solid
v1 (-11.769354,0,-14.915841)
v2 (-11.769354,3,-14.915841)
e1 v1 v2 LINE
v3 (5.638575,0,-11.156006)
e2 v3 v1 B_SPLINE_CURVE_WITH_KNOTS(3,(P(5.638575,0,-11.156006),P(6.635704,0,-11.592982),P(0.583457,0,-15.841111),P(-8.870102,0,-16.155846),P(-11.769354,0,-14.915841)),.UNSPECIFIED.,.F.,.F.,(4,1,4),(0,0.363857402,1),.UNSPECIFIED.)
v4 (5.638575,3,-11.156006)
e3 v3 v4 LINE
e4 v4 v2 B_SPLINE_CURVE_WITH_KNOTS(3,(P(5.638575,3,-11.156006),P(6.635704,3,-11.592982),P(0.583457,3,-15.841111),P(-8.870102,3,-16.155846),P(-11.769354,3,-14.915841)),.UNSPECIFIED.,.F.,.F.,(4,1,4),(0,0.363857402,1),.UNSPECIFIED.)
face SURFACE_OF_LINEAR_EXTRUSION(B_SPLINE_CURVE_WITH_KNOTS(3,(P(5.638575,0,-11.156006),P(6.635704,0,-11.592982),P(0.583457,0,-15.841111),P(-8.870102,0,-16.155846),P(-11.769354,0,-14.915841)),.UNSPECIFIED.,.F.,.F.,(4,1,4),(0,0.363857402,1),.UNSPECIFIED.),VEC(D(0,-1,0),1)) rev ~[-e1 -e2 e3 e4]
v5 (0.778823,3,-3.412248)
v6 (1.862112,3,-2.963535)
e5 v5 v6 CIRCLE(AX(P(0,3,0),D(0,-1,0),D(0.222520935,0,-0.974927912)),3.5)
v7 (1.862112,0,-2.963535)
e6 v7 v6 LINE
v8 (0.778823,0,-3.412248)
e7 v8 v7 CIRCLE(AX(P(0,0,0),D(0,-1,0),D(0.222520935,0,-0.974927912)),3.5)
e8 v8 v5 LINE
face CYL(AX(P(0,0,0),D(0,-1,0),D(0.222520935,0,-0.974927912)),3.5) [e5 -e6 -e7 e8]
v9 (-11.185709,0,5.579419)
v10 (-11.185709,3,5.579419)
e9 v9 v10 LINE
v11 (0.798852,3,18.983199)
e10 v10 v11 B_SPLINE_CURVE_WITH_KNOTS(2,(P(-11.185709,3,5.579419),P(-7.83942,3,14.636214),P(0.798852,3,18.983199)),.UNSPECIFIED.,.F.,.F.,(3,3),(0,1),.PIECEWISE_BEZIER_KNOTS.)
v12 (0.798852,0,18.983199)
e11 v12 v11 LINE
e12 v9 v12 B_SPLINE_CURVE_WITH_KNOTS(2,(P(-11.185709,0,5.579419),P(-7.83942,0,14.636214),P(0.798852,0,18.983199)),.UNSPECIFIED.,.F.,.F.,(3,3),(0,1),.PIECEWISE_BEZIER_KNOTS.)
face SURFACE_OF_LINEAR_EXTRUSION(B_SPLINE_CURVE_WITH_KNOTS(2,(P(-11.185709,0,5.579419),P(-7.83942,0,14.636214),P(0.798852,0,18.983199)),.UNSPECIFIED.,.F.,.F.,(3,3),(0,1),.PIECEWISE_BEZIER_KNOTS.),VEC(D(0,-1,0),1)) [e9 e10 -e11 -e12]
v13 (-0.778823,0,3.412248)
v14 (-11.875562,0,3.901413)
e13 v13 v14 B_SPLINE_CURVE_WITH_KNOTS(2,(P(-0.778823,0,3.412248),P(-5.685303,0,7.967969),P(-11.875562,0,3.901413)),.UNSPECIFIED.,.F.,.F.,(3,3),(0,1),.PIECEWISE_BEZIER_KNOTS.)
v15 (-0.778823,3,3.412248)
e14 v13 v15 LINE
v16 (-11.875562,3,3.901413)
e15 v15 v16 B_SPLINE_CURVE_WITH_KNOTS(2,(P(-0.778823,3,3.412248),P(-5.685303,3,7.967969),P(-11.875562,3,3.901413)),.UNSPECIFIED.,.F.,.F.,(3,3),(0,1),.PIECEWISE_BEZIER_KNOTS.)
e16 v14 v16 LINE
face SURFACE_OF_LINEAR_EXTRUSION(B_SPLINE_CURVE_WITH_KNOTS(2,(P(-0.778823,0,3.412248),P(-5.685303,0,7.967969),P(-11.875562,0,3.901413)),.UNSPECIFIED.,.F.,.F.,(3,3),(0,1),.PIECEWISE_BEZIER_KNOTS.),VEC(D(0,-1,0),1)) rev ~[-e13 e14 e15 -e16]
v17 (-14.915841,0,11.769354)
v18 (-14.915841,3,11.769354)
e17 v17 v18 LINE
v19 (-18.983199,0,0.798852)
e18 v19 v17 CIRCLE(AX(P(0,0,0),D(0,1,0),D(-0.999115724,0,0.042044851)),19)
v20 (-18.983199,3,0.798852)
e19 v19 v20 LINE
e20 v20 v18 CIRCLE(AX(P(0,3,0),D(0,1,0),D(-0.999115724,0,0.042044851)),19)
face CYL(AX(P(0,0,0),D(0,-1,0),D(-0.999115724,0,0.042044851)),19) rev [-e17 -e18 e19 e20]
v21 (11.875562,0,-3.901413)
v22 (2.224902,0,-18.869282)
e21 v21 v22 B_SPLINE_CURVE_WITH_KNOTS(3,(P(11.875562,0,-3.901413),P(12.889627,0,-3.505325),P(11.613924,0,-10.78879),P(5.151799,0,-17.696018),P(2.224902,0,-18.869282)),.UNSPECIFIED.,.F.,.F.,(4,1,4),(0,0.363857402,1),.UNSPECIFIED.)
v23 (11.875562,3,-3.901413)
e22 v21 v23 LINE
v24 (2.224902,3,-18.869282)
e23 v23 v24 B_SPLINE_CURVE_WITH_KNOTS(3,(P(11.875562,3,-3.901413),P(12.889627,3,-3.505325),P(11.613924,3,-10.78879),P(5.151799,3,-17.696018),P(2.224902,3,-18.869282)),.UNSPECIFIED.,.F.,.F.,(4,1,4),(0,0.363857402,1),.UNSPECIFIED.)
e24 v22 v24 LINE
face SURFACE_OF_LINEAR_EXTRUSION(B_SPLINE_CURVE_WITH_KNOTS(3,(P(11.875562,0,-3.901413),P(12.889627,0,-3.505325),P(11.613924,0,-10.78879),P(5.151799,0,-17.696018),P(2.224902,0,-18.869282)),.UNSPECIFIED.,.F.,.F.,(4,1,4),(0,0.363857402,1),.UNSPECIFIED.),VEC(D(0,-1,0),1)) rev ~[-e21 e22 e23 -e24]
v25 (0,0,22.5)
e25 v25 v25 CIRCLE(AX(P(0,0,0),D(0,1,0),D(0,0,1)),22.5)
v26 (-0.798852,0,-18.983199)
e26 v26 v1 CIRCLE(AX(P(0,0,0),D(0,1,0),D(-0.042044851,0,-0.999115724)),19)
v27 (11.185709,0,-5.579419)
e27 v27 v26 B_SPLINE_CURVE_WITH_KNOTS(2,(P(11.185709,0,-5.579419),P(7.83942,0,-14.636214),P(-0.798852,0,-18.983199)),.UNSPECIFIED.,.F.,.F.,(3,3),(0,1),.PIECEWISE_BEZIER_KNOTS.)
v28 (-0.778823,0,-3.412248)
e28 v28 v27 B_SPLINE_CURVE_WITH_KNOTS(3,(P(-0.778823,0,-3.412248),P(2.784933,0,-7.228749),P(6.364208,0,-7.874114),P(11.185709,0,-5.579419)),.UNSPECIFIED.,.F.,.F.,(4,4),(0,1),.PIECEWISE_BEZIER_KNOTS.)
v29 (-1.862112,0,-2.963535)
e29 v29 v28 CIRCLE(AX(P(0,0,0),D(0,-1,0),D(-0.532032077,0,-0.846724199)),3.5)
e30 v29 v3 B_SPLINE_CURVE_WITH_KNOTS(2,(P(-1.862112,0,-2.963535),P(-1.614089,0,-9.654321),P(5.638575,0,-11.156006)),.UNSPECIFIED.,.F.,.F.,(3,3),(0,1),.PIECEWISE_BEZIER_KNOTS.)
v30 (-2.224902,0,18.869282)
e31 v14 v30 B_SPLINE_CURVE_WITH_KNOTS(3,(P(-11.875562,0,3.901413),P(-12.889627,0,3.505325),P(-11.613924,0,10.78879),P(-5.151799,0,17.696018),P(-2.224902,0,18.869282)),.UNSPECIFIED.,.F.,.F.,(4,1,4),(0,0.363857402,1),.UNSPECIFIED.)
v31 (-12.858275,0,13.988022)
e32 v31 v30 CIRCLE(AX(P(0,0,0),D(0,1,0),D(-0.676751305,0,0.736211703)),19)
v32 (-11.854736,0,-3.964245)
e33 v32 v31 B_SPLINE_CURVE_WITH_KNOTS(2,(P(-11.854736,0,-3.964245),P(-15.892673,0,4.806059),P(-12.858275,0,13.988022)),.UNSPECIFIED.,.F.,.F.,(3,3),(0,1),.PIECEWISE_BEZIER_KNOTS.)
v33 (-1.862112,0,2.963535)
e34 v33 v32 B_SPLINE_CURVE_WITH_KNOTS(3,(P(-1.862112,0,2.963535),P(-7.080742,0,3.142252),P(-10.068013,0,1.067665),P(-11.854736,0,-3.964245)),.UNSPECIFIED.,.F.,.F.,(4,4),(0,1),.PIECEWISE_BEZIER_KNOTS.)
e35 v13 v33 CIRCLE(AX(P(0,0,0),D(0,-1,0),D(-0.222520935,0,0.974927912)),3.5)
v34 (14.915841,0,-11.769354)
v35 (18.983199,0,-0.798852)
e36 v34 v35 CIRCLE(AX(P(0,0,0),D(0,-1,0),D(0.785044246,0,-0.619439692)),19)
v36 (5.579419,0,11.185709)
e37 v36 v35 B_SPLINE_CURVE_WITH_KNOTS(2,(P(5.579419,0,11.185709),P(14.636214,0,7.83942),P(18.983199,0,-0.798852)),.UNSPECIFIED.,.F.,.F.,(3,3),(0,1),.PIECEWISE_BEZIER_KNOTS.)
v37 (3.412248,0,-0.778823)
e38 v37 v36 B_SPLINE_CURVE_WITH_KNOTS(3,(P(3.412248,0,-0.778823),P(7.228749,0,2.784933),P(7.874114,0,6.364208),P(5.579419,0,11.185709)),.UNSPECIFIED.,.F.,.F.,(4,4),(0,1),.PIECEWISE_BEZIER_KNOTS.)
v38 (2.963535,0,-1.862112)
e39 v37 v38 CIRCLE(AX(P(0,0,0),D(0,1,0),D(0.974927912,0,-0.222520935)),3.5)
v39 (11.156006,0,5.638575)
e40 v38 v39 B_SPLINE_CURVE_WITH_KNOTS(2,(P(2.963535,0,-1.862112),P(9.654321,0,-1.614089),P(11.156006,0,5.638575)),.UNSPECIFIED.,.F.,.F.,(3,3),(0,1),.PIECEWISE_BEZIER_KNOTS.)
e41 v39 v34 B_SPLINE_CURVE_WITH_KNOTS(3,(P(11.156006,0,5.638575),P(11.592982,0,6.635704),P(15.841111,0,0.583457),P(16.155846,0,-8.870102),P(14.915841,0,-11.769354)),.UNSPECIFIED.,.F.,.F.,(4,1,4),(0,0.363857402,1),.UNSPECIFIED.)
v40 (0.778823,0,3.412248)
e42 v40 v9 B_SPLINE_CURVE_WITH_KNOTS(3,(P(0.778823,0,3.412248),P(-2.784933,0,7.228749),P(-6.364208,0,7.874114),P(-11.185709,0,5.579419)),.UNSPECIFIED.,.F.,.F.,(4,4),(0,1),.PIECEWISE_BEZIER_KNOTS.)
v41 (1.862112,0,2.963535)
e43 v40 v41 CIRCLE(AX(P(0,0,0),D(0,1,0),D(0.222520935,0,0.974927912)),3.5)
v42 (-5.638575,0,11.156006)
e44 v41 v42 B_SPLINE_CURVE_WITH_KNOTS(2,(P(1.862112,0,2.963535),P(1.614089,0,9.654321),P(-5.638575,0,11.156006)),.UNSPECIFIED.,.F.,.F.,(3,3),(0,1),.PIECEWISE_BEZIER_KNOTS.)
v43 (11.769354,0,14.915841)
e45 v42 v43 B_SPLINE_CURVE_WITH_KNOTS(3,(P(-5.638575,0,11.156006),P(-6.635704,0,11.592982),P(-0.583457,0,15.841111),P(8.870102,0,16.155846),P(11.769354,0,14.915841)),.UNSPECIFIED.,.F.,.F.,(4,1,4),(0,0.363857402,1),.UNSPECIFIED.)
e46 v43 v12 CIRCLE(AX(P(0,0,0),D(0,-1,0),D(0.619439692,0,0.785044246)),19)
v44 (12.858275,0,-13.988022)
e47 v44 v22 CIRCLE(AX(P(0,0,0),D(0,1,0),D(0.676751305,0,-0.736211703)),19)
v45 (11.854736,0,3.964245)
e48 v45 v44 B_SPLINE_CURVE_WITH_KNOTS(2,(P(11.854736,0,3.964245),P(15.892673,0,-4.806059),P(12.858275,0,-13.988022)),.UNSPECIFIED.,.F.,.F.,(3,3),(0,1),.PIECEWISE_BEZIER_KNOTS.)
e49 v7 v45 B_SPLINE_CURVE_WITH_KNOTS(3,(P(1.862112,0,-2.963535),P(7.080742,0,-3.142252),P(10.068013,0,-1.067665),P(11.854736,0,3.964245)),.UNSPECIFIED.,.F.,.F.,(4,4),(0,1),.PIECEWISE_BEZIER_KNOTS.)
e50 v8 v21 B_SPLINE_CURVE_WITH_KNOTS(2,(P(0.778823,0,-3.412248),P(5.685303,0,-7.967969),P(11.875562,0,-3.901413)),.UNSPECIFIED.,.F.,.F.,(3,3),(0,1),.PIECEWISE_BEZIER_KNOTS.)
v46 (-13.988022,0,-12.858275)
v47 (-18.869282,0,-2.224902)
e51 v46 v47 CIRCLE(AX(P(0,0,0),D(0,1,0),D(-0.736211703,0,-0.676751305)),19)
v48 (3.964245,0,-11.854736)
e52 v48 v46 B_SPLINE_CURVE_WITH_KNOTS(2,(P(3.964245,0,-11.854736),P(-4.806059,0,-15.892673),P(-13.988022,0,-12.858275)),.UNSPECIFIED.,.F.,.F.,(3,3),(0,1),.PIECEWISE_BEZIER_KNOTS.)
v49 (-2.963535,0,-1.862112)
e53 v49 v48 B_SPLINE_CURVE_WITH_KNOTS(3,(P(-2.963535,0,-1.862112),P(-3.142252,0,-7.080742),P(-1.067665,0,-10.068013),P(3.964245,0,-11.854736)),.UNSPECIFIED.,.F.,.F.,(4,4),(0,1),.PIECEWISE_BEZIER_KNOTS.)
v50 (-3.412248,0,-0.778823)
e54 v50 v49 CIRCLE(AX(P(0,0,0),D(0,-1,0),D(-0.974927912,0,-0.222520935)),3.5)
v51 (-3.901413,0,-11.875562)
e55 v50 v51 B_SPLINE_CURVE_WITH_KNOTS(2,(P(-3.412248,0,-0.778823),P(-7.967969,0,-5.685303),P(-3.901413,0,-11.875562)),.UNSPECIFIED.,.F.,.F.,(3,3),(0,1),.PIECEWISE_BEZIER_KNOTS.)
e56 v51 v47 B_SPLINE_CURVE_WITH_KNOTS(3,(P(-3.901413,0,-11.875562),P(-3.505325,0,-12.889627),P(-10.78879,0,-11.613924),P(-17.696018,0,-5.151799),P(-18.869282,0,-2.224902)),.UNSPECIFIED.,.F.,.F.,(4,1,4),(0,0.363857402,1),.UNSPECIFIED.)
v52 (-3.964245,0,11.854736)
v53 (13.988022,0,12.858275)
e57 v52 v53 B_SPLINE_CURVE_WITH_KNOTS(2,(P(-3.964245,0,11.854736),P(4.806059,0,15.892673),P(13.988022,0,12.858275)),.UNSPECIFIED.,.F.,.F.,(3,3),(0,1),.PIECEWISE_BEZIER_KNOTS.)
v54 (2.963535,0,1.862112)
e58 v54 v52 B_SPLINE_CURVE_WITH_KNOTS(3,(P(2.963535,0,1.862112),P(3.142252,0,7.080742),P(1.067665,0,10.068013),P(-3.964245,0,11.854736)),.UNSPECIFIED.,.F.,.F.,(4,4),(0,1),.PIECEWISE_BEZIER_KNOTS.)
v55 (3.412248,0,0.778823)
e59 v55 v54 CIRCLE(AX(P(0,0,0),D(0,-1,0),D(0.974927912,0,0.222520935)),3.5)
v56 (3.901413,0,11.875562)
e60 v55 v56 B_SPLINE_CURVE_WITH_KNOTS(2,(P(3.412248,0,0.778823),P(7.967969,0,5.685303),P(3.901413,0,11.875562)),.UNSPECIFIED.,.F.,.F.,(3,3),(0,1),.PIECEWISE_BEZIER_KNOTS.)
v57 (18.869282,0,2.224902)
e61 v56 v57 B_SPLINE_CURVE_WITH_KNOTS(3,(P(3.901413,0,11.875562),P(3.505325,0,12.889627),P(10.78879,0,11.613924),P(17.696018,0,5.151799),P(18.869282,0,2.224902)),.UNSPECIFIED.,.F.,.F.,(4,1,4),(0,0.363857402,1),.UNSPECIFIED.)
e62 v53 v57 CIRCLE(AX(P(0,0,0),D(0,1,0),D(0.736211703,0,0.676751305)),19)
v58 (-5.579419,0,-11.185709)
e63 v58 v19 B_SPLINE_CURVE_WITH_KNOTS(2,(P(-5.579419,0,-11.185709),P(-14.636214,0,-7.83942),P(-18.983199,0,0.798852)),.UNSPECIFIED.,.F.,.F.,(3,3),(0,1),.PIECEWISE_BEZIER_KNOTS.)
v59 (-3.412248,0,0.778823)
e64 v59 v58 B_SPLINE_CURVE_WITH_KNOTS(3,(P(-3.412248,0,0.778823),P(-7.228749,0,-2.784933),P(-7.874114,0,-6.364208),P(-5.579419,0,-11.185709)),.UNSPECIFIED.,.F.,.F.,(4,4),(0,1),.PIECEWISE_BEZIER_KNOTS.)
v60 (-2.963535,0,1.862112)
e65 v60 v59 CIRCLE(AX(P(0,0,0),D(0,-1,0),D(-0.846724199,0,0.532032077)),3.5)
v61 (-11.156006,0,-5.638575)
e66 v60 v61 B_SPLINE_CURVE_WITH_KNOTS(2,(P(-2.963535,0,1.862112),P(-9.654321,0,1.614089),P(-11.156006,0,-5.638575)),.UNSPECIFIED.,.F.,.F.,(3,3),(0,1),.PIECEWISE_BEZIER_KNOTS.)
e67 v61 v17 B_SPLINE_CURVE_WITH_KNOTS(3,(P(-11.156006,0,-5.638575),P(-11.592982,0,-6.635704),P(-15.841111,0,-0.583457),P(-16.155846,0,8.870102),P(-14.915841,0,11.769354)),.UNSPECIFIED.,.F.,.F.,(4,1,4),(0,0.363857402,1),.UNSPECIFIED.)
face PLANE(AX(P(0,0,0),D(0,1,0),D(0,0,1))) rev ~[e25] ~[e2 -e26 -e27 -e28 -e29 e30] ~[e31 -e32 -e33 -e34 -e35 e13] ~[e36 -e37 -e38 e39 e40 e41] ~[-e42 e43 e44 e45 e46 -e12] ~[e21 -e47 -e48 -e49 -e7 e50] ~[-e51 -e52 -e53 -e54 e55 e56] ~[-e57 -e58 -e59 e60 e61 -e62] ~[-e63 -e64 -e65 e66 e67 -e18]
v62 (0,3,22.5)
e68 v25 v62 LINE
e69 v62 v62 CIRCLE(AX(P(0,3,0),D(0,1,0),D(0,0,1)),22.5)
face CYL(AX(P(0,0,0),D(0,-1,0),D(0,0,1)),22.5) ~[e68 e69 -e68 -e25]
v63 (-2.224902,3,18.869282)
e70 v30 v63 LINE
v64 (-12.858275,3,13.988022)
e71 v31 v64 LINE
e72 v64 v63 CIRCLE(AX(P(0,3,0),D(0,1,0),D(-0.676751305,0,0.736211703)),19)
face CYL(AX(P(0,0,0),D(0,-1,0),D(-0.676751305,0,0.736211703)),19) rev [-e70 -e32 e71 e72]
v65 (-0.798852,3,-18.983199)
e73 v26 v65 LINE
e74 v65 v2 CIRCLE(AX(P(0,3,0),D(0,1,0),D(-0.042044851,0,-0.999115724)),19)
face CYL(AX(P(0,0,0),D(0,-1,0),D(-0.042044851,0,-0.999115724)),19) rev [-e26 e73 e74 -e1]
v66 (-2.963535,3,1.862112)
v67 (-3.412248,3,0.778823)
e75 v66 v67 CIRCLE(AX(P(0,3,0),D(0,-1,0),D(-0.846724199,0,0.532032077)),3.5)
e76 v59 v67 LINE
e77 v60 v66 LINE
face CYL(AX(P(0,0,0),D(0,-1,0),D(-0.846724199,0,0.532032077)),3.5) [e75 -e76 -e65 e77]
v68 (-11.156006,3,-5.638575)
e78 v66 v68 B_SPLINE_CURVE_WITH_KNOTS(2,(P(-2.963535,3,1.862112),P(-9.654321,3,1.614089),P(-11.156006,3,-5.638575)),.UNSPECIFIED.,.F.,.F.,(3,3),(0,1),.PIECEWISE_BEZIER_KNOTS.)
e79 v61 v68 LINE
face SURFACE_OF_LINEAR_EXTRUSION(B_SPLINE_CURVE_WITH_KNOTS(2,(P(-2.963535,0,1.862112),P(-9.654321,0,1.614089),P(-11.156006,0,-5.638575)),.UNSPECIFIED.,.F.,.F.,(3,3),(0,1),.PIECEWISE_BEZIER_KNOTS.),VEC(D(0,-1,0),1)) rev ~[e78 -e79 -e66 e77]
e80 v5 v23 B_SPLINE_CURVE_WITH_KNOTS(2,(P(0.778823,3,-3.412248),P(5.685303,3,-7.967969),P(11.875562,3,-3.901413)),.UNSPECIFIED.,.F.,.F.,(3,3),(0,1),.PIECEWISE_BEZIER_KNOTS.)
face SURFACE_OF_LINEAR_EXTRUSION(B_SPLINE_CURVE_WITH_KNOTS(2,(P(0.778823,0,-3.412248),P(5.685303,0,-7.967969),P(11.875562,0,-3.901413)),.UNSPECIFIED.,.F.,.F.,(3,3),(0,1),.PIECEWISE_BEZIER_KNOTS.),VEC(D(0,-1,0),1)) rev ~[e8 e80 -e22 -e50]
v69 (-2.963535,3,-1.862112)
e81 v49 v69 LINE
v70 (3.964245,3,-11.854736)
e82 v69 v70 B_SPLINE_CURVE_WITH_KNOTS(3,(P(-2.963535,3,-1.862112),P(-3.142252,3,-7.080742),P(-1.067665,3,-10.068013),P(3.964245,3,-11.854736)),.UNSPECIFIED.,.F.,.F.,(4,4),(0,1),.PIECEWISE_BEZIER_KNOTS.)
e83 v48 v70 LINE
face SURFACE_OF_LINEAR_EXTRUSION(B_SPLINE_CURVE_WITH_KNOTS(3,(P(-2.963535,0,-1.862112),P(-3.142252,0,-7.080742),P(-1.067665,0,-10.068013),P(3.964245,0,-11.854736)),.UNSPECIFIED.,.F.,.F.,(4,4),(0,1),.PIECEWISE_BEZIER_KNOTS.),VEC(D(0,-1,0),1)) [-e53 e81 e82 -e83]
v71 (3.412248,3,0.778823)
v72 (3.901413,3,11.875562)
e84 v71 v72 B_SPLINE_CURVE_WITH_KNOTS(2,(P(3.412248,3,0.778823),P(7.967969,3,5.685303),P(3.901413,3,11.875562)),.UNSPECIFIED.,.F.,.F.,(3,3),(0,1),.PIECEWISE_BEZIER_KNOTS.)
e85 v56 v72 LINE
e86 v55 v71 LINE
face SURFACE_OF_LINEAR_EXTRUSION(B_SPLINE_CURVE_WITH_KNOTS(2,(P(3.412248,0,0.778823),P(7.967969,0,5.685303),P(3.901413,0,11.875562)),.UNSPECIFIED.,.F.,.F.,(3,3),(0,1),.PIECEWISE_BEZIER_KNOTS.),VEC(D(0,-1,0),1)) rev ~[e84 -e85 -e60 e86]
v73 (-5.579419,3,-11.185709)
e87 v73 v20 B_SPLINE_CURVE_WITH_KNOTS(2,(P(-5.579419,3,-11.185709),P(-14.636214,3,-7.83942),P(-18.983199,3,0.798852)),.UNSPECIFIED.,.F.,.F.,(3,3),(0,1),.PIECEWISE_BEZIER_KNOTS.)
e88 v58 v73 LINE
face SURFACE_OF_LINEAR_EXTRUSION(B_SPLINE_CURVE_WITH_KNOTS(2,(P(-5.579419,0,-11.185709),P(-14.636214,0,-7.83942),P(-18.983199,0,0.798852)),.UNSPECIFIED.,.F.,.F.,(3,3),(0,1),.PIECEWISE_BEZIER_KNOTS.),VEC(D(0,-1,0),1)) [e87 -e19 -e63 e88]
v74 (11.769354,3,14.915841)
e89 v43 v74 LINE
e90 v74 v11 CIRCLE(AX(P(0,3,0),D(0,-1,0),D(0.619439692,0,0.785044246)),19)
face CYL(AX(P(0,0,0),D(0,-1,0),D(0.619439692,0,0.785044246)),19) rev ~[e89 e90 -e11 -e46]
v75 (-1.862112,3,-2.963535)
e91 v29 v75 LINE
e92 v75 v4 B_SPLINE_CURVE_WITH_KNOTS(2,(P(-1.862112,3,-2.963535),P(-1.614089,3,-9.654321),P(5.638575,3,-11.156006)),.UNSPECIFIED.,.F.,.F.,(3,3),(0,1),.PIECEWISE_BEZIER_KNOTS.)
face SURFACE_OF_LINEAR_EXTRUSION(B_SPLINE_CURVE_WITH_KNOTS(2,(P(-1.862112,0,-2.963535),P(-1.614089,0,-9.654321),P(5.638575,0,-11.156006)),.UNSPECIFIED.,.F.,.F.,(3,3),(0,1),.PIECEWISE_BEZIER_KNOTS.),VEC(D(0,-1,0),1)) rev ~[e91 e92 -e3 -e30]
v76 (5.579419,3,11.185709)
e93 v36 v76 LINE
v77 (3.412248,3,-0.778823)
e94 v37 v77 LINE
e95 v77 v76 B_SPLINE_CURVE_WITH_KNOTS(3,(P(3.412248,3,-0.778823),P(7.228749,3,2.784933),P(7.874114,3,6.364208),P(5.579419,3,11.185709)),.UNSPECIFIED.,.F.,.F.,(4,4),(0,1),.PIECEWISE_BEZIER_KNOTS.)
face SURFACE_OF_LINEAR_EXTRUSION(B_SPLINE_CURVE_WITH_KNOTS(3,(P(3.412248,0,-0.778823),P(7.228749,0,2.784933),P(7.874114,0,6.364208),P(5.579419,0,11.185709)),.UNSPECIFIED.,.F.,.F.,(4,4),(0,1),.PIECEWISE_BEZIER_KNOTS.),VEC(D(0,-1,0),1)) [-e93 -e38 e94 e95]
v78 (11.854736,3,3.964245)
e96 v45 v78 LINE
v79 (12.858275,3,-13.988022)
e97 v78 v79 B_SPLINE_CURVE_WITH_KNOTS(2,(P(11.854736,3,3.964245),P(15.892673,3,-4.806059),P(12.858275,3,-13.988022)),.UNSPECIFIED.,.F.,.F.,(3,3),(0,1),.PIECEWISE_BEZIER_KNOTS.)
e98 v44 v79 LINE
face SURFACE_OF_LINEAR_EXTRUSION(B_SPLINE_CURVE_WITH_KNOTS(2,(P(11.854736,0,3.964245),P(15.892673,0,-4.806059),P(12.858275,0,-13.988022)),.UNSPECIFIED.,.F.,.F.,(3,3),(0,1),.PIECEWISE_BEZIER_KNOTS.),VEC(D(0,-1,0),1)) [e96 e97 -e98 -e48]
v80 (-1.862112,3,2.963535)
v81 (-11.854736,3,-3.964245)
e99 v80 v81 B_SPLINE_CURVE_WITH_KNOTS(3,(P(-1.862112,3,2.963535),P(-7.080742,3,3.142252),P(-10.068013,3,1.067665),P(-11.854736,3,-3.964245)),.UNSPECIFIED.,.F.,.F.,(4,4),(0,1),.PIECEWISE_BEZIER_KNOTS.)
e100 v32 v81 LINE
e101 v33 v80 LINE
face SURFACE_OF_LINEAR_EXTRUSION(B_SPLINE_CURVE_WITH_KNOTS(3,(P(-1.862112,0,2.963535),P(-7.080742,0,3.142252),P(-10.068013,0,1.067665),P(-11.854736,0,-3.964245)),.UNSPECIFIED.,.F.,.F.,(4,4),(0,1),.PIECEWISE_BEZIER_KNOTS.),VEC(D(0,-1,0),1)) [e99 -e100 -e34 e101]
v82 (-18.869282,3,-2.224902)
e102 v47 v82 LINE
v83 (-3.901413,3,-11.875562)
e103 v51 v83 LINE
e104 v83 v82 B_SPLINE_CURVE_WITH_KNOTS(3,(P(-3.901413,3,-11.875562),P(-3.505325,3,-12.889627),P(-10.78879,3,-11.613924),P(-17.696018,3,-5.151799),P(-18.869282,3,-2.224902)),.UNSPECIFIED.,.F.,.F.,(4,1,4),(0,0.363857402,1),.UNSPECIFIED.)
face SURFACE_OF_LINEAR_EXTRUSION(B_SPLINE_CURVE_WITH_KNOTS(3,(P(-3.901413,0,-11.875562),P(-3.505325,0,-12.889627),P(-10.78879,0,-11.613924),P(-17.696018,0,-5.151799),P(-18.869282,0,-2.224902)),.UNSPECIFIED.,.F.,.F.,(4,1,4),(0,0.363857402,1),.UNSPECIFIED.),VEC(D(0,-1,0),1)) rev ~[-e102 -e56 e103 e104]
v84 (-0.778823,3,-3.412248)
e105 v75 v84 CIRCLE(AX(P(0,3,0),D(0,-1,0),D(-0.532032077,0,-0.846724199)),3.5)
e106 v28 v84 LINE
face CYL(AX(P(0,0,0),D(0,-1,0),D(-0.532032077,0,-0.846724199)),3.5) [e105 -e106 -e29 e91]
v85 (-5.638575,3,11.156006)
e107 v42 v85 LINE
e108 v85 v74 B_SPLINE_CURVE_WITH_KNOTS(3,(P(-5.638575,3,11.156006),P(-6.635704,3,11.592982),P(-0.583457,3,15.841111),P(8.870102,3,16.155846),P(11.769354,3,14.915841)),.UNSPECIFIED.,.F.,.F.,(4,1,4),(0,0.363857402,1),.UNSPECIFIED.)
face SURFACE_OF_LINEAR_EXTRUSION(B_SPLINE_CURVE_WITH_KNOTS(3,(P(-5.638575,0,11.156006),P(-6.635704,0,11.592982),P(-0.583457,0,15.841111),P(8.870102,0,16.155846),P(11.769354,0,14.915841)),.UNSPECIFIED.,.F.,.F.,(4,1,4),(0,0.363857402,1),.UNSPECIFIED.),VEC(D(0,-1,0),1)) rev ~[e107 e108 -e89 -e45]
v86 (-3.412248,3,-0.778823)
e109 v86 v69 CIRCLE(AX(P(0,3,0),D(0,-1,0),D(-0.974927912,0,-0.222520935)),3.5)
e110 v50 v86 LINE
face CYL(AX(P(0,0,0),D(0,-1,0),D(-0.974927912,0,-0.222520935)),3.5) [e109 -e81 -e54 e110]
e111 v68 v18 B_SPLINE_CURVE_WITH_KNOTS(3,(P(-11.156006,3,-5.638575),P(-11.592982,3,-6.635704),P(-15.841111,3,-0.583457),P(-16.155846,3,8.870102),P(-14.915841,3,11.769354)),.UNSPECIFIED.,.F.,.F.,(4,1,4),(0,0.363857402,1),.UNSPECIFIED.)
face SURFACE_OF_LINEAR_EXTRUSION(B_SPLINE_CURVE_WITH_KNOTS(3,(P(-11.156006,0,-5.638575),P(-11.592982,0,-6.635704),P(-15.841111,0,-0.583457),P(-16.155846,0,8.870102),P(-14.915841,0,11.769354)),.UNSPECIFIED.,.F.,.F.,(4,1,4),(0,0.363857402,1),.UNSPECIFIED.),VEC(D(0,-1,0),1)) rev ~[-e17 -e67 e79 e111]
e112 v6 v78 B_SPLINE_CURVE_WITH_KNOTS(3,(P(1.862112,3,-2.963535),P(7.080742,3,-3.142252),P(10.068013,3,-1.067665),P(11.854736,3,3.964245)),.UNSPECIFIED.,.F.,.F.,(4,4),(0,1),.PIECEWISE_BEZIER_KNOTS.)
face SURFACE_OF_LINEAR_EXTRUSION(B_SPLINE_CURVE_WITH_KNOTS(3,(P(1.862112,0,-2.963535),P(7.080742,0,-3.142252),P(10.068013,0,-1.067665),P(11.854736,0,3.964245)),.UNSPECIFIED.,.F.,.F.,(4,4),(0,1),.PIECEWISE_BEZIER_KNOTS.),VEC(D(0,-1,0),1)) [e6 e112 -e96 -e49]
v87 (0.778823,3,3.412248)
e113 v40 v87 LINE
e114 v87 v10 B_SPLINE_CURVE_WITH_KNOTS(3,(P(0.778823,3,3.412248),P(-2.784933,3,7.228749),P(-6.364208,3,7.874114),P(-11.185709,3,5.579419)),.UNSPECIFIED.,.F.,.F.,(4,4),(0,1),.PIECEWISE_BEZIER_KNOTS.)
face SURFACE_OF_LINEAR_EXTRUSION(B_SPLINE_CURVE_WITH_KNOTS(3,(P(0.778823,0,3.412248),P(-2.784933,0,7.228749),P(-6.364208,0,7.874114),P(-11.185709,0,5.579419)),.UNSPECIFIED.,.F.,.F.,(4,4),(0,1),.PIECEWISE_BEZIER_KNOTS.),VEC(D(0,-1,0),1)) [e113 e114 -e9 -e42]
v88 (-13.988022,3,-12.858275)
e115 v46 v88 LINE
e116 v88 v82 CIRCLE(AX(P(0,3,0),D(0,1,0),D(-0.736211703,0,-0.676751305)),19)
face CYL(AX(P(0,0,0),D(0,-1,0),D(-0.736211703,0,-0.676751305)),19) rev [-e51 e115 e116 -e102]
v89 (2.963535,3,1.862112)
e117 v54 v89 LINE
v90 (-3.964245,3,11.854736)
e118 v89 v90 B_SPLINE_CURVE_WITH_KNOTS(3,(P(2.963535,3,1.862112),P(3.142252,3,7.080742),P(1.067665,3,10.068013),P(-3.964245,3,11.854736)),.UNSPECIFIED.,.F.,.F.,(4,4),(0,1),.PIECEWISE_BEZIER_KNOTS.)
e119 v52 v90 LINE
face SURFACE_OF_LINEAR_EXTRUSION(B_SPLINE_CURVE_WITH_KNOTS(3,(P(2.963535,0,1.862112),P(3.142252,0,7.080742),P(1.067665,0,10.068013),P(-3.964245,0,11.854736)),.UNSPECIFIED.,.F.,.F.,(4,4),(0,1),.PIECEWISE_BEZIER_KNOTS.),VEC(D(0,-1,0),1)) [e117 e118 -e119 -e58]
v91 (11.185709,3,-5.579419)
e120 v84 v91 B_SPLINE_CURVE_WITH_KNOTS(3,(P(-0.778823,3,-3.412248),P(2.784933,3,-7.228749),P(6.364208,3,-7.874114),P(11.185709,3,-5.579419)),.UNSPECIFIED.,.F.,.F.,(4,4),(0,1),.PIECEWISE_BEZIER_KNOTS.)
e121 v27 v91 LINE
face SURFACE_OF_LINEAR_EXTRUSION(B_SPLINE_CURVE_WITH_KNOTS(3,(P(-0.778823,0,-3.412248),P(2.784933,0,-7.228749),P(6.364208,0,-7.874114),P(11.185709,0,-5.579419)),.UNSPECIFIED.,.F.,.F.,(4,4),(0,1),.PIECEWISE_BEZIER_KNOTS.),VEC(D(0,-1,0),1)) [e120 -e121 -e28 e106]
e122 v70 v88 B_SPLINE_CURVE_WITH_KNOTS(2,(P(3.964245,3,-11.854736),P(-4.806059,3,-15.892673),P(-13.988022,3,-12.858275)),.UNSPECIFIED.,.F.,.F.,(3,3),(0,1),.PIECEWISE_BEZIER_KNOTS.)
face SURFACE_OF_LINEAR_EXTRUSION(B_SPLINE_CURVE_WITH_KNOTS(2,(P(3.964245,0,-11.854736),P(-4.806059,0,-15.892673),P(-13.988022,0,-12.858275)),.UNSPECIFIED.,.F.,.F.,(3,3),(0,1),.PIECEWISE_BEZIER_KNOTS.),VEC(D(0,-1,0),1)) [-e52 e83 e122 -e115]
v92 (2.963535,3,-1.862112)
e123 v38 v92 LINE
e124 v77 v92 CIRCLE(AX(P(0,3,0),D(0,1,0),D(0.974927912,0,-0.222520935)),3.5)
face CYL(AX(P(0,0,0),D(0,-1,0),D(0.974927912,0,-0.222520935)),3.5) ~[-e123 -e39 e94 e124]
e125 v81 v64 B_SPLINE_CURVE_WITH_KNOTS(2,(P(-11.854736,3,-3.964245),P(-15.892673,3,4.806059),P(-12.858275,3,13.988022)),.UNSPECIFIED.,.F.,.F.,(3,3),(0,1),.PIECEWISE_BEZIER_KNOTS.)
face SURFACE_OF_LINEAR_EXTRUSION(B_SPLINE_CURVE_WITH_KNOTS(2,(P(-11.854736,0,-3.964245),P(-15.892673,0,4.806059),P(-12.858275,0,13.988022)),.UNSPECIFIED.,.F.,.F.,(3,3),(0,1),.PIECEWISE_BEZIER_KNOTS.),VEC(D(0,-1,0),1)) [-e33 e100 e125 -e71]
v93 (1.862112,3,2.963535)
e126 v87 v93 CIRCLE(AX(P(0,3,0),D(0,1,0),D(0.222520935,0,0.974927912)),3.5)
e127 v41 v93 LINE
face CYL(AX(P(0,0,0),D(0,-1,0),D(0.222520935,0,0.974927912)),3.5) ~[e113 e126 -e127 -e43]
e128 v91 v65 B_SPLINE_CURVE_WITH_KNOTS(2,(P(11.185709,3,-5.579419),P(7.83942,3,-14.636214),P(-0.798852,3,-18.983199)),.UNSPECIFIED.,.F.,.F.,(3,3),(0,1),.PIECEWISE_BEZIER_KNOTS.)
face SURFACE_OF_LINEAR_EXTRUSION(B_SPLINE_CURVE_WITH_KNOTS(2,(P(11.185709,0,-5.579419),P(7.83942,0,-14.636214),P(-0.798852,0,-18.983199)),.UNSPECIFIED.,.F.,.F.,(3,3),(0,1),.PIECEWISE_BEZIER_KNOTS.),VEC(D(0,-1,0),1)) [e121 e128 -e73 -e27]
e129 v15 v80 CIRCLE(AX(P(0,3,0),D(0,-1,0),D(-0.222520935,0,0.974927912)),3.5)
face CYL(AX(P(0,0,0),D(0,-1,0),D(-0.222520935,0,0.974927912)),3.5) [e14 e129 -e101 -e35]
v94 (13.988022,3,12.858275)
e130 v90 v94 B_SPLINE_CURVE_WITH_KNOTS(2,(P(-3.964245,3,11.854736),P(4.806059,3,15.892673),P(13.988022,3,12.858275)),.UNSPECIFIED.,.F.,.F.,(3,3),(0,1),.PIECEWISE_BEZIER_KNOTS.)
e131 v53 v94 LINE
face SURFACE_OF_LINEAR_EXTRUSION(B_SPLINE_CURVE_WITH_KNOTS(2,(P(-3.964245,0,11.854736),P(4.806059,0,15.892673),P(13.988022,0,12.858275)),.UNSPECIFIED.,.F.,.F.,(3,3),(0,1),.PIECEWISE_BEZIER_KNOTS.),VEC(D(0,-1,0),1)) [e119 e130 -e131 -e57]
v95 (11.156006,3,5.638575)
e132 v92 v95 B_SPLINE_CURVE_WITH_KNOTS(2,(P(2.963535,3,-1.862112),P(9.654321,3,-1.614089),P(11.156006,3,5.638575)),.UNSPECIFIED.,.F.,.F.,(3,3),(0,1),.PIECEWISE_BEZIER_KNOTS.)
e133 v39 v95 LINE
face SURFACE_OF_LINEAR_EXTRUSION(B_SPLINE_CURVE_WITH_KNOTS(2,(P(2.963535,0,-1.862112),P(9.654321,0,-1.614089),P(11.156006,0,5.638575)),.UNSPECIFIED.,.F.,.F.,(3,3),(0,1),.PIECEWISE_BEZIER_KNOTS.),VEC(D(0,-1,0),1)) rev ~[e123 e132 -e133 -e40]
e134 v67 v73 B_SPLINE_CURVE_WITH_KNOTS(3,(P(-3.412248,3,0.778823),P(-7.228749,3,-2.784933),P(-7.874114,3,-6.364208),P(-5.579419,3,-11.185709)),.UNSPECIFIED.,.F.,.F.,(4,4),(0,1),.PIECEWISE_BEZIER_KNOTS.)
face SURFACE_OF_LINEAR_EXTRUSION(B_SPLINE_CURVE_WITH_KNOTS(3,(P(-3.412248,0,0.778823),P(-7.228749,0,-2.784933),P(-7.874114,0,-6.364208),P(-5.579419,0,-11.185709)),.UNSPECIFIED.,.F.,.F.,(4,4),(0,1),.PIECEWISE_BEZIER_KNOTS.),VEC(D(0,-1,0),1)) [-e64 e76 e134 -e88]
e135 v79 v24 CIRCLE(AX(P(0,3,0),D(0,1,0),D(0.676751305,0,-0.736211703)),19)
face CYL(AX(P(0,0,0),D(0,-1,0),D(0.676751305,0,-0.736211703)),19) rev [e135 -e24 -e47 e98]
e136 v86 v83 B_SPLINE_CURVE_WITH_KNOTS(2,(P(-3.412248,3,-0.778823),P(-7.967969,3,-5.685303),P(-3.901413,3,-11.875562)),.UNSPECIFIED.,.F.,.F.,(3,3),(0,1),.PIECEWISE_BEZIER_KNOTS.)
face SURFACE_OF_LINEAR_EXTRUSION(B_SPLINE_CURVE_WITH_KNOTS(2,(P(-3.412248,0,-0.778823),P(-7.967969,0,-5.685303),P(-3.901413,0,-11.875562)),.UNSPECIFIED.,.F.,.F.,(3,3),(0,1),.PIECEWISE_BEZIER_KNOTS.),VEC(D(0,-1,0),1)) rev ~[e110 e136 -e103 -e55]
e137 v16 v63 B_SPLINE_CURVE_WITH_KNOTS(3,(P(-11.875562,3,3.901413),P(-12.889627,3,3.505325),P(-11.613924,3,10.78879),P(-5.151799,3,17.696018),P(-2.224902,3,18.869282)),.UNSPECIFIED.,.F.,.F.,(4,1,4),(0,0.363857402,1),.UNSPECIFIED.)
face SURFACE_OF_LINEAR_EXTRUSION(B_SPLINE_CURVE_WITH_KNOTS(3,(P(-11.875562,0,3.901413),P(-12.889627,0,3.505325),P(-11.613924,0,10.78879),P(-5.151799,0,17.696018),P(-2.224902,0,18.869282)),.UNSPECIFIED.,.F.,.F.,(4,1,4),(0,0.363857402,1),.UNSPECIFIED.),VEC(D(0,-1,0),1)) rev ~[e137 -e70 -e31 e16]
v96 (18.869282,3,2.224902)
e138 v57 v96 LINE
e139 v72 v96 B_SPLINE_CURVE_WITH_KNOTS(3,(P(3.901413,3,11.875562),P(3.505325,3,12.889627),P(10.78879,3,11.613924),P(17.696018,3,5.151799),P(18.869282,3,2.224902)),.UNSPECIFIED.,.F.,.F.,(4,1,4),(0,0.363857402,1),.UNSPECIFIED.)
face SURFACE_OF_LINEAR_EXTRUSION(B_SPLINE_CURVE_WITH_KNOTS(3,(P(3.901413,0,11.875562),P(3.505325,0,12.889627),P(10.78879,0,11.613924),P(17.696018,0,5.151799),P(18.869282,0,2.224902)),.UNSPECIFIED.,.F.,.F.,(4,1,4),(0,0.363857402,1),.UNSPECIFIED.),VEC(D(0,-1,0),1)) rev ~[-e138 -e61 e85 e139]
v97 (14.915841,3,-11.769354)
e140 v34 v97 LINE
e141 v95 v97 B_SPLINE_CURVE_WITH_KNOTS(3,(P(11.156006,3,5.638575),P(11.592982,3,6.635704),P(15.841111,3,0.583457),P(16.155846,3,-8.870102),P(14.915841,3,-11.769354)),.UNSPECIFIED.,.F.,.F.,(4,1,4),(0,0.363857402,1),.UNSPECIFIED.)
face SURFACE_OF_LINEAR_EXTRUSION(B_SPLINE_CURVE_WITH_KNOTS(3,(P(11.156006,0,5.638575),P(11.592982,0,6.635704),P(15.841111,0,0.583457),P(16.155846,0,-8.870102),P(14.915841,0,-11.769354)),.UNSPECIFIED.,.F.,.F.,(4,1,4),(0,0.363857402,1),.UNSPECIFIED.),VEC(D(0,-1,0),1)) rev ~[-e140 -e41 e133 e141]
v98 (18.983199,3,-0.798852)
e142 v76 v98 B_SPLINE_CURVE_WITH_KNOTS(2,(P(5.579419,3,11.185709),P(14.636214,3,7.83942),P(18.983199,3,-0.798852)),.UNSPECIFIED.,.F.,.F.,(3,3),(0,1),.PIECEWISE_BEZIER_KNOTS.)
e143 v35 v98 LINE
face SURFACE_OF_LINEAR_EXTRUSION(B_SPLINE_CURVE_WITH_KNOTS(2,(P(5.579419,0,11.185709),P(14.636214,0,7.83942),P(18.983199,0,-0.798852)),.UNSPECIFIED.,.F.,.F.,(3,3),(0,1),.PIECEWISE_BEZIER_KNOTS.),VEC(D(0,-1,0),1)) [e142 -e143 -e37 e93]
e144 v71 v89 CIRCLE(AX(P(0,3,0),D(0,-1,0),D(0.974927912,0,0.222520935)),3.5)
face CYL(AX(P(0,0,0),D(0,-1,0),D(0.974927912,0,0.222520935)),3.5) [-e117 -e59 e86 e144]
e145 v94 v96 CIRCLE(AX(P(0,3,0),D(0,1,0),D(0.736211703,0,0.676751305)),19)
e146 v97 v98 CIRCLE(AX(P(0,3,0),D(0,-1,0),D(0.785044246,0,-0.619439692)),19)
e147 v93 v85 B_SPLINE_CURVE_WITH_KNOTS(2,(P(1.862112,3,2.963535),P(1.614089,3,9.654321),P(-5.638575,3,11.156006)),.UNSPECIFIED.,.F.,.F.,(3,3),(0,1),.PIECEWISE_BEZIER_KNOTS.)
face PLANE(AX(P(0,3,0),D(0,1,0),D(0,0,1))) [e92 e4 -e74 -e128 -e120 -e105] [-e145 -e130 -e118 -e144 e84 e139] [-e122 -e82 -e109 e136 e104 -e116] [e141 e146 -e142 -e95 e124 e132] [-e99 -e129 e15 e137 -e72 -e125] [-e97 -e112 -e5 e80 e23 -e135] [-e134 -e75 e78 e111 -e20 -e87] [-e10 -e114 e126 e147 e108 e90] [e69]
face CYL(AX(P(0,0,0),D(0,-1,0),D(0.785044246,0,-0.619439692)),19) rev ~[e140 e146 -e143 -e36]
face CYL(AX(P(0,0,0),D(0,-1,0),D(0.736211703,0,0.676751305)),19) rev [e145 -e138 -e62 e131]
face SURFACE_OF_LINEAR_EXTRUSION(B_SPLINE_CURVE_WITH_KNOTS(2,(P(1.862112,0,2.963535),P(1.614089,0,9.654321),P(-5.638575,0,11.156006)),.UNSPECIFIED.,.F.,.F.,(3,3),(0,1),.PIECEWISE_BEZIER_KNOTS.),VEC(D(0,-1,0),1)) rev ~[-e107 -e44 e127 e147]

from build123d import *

# Parameters (mm, degrees)
SKETCH1_R           = 22.5
BOSS_EXTRUDE1_DEPTH = 3


with BuildPart() as part:
    # Sketch1 → Boss-Extrude1 (new body)
    with BuildSketch(Plane(origin=(0, 0, 0), x_dir=(1, 0, 0), z_dir=(0, 1, 0))):
        with Locations(Location((0, 0, 0), (0, 0, 270))):
            Circle(SKETCH1_R)
        with BuildLine():
            ThreePointArc((12.858274793, 13.988022353), (7.926678354, 17.267535154), (2.224901963, 18.869282214))
            add(Edge.make_bspline(
                [(11.875562109, 3.901413152), (12.889627473, 3.505325226), (11.613923706, 10.788790468), (5.151799162, 17.696017864), (2.224901963, 18.869282214)],
                knots=[0, 0, 0, 0, 0.363857402, 1, 1, 1, 1], degree=3))
            add(Edge.make_bspline(
                [(0.778823269, 3.412247693), (5.685303017, 7.967969249), (11.875562109, 3.901413152)],
                knots=[0, 0, 0, 1, 1, 1], degree=2))
            ThreePointArc((0.778823269, 3.412247693), (1.339392013, 3.233578364), (1.862112268, 2.963534697))
            add(Edge.make_bspline(
                [(1.862112268, 2.963534697), (7.080742295, 3.142252132), (10.068013486, 1.06766484), (11.854735792, -3.964245112)],
                knots=[0, 0, 0, 0, 1, 1, 1, 1], degree=3))
            add(Edge.make_bspline(
                [(11.854735792, -3.964245112), (15.892673154, 4.806059129), (12.858274793, 13.988022353)],
                knots=[0, 0, 0, 1, 1, 1], degree=2))
        make_face(mode=Mode.SUBTRACT)
        with BuildLine():
            ThreePointArc((0.778823269, -3.412247693), (1.339392013, -3.233578364), (1.862112268, -2.963534697))
            add(Edge.make_bspline(
                [(1.862112268, -2.963534697), (1.614088771, -9.654321405), (-5.638574802, -11.156006194)],
                knots=[0, 0, 0, 1, 1, 1], degree=2))
            add(Edge.make_bspline(
                [(-5.638574802, -11.156006194), (-6.635703756, -11.592982231), (-0.583457308, -15.84111111), (8.870102109, -16.155846354), (11.769354144, -14.915840675)],
                knots=[0, 0, 0, 0, 0.363857402, 1, 1, 1, 1], degree=3))
            ThreePointArc((11.769354144, -14.915840675), (6.604983185, -17.814999218), (0.79885216, -18.983198762))
            add(Edge.make_bspline(
                [(-11.185708668, -5.579419467), (-7.839419958, -14.63621396), (0.79885216, -18.983198762)],
                knots=[0, 0, 0, 1, 1, 1], degree=2))
            add(Edge.make_bspline(
                [(0.778823269, -3.412247693), (-2.784933102, -7.228748683), (-6.36420756, -7.874113658), (-11.185708668, -5.579419467)],
                knots=[0, 0, 0, 0, 1, 1, 1, 1], degree=3))
        make_face(mode=Mode.SUBTRACT)
        with BuildLine():
            ThreePointArc((-0.79885216, 18.983198762), (-6.604983185, 17.814999218), (-11.769354144, 14.915840675))
            add(Edge.make_bspline(
                [(5.638574802, 11.156006194), (6.635703756, 11.592982231), (0.583457308, 15.84111111), (-8.870102109, 16.155846354), (-11.769354144, 14.915840675)],
                knots=[0, 0, 0, 0, 0.363857402, 1, 1, 1, 1], degree=3))
            add(Edge.make_bspline(
                [(-1.862112268, 2.963534697), (-1.614088771, 9.654321405), (5.638574802, 11.156006194)],
                knots=[0, 0, 0, 1, 1, 1], degree=2))
            ThreePointArc((-1.862112268, 2.963534697), (-1.339392013, 3.233578364), (-0.778823269, 3.412247693))
            add(Edge.make_bspline(
                [(-0.778823269, 3.412247693), (2.784933102, 7.228748683), (6.36420756, 7.874113658), (11.185708668, 5.579419467)],
                knots=[0, 0, 0, 0, 1, 1, 1, 1], degree=3))
            add(Edge.make_bspline(
                [(11.185708668, 5.579419467), (7.839419958, 14.63621396), (-0.79885216, 18.983198762)],
                knots=[0, 0, 0, 1, 1, 1], degree=2))
        make_face(mode=Mode.SUBTRACT)
        with BuildLine():
            ThreePointArc((-13.988022353, 12.858274793), (-17.267535154, 7.926678354), (-18.869282214, 2.224901963))
            add(Edge.make_bspline(
                [(-3.901413152, 11.875562109), (-3.505325226, 12.889627473), (-10.788790468, 11.613923706), (-17.696017864, 5.151799162), (-18.869282214, 2.224901963)],
                knots=[0, 0, 0, 0, 0.363857402, 1, 1, 1, 1], degree=3))
            add(Edge.make_bspline(
                [(-3.412247693, 0.778823269), (-7.967969249, 5.685303017), (-3.901413152, 11.875562109)],
                knots=[0, 0, 0, 1, 1, 1], degree=2))
            ThreePointArc((-3.412247693, 0.778823269), (-3.233578364, 1.339392013), (-2.963534697, 1.862112268))
            add(Edge.make_bspline(
                [(-2.963534697, 1.862112268), (-3.142252132, 7.080742295), (-1.06766484, 10.068013486), (3.964245112, 11.854735792)],
                knots=[0, 0, 0, 0, 1, 1, 1, 1], degree=3))
            add(Edge.make_bspline(
                [(3.964245112, 11.854735792), (-4.806059129, 15.892673154), (-13.988022353, 12.858274793)],
                knots=[0, 0, 0, 1, 1, 1], degree=2))
        make_face(mode=Mode.SUBTRACT)
        with BuildLine():
            ThreePointArc((-18.983198762, -0.79885216), (-17.814999218, -6.604983185), (-14.915840675, -11.769354144))
            add(Edge.make_bspline(
                [(-11.156006194, 5.638574802), (-11.592982231, 6.635703756), (-15.84111111, 0.583457308), (-16.155846354, -8.870102109), (-14.915840675, -11.769354144)],
                knots=[0, 0, 0, 0, 0.363857402, 1, 1, 1, 1], degree=3))
            add(Edge.make_bspline(
                [(-2.963534697, -1.862112268), (-9.654321405, -1.614088771), (-11.156006194, 5.638574802)],
                knots=[0, 0, 0, 1, 1, 1], degree=2))
            ThreePointArc((-2.963534697, -1.862112268), (-3.233578364, -1.339392013), (-3.412247693, -0.778823269))
            add(Edge.make_bspline(
                [(-3.412247693, -0.778823269), (-7.228748683, 2.784933102), (-7.874113658, 6.36420756), (-5.579419467, 11.185708668)],
                knots=[0, 0, 0, 0, 1, 1, 1, 1], degree=3))
            add(Edge.make_bspline(
                [(-5.579419467, 11.185708668), (-14.63621396, 7.839419958), (-18.983198762, -0.79885216)],
                knots=[0, 0, 0, 1, 1, 1], degree=2))
        make_face(mode=Mode.SUBTRACT)
        with BuildLine():
            ThreePointArc((-12.858274793, -13.988022353), (-7.926678354, -17.267535154), (-2.224901963, -18.869282214))
            add(Edge.make_bspline(
                [(-11.875562109, -3.901413152), (-12.889627473, -3.505325226), (-11.613923706, -10.788790468), (-5.151799162, -17.696017864), (-2.224901963, -18.869282214)],
                knots=[0, 0, 0, 0, 0.363857402, 1, 1, 1, 1], degree=3))
            add(Edge.make_bspline(
                [(-0.778823269, -3.412247693), (-5.685303017, -7.967969249), (-11.875562109, -3.901413152)],
                knots=[0, 0, 0, 1, 1, 1], degree=2))
            ThreePointArc((-0.778823269, -3.412247693), (-1.339392013, -3.233578364), (-1.862112268, -2.963534697))
            add(Edge.make_bspline(
                [(-1.862112268, -2.963534697), (-7.080742295, -3.142252132), (-10.068013486, -1.06766484), (-11.854735792, 3.964245112)],
                knots=[0, 0, 0, 0, 1, 1, 1, 1], degree=3))
            add(Edge.make_bspline(
                [(-11.854735792, 3.964245112), (-15.892673154, -4.806059129), (-12.858274793, -13.988022353)],
                knots=[0, 0, 0, 1, 1, 1], degree=2))
        make_face(mode=Mode.SUBTRACT)
        with BuildLine():
            ThreePointArc((13.988022353, -12.858274793), (17.267535154, -7.926678354), (18.869282214, -2.224901963))
            add(Edge.make_bspline(
                [(3.901413152, -11.875562109), (3.505325226, -12.889627473), (10.788790468, -11.613923706), (17.696017864, -5.151799162), (18.869282214, -2.224901963)],
                knots=[0, 0, 0, 0, 0.363857402, 1, 1, 1, 1], degree=3))
            add(Edge.make_bspline(
                [(3.412247693, -0.778823269), (7.967969249, -5.685303017), (3.901413152, -11.875562109)],
                knots=[0, 0, 0, 1, 1, 1], degree=2))
            ThreePointArc((3.412247693, -0.778823269), (3.233578364, -1.339392013), (2.963534697, -1.862112268))
            add(Edge.make_bspline(
                [(2.963534697, -1.862112268), (3.142252132, -7.080742295), (1.06766484, -10.068013486), (-3.964245112, -11.854735792)],
                knots=[0, 0, 0, 0, 1, 1, 1, 1], degree=3))
            add(Edge.make_bspline(
                [(-3.964245112, -11.854735792), (4.806059129, -15.892673154), (13.988022353, -12.858274793)],
                knots=[0, 0, 0, 1, 1, 1], degree=2))
        make_face(mode=Mode.SUBTRACT)
        with BuildLine():
            ThreePointArc((3.412247693, 0.778823269), (3.233578364, 1.339392013), (2.963534697, 1.862112268))
            add(Edge.make_bspline(
                [(2.963534697, 1.862112268), (9.654321405, 1.614088771), (11.156006194, -5.638574802)],
                knots=[0, 0, 0, 1, 1, 1], degree=2))
            add(Edge.make_bspline(
                [(11.156006194, -5.638574802), (11.592982231, -6.635703756), (15.84111111, -0.583457308), (16.155846354, 8.870102109), (14.915840675, 11.769354144)],
                knots=[0, 0, 0, 0, 0.363857402, 1, 1, 1, 1], degree=3))
            ThreePointArc((14.915840675, 11.769354144), (17.814999218, 6.604983185), (18.983198762, 0.79885216))
            add(Edge.make_bspline(
                [(5.579419467, -11.185708668), (14.63621396, -7.839419958), (18.983198762, 0.79885216)],
                knots=[0, 0, 0, 1, 1, 1], degree=2))
            add(Edge.make_bspline(
                [(3.412247693, 0.778823269), (7.228748683, -2.784933102), (7.874113658, -6.36420756), (5.579419467, -11.185708668)],
                knots=[0, 0, 0, 0, 1, 1, 1, 1], degree=3))
        make_face(mode=Mode.SUBTRACT)
    extrude(amount=BOSS_EXTRUDE1_DEPTH)


solid = part.part
